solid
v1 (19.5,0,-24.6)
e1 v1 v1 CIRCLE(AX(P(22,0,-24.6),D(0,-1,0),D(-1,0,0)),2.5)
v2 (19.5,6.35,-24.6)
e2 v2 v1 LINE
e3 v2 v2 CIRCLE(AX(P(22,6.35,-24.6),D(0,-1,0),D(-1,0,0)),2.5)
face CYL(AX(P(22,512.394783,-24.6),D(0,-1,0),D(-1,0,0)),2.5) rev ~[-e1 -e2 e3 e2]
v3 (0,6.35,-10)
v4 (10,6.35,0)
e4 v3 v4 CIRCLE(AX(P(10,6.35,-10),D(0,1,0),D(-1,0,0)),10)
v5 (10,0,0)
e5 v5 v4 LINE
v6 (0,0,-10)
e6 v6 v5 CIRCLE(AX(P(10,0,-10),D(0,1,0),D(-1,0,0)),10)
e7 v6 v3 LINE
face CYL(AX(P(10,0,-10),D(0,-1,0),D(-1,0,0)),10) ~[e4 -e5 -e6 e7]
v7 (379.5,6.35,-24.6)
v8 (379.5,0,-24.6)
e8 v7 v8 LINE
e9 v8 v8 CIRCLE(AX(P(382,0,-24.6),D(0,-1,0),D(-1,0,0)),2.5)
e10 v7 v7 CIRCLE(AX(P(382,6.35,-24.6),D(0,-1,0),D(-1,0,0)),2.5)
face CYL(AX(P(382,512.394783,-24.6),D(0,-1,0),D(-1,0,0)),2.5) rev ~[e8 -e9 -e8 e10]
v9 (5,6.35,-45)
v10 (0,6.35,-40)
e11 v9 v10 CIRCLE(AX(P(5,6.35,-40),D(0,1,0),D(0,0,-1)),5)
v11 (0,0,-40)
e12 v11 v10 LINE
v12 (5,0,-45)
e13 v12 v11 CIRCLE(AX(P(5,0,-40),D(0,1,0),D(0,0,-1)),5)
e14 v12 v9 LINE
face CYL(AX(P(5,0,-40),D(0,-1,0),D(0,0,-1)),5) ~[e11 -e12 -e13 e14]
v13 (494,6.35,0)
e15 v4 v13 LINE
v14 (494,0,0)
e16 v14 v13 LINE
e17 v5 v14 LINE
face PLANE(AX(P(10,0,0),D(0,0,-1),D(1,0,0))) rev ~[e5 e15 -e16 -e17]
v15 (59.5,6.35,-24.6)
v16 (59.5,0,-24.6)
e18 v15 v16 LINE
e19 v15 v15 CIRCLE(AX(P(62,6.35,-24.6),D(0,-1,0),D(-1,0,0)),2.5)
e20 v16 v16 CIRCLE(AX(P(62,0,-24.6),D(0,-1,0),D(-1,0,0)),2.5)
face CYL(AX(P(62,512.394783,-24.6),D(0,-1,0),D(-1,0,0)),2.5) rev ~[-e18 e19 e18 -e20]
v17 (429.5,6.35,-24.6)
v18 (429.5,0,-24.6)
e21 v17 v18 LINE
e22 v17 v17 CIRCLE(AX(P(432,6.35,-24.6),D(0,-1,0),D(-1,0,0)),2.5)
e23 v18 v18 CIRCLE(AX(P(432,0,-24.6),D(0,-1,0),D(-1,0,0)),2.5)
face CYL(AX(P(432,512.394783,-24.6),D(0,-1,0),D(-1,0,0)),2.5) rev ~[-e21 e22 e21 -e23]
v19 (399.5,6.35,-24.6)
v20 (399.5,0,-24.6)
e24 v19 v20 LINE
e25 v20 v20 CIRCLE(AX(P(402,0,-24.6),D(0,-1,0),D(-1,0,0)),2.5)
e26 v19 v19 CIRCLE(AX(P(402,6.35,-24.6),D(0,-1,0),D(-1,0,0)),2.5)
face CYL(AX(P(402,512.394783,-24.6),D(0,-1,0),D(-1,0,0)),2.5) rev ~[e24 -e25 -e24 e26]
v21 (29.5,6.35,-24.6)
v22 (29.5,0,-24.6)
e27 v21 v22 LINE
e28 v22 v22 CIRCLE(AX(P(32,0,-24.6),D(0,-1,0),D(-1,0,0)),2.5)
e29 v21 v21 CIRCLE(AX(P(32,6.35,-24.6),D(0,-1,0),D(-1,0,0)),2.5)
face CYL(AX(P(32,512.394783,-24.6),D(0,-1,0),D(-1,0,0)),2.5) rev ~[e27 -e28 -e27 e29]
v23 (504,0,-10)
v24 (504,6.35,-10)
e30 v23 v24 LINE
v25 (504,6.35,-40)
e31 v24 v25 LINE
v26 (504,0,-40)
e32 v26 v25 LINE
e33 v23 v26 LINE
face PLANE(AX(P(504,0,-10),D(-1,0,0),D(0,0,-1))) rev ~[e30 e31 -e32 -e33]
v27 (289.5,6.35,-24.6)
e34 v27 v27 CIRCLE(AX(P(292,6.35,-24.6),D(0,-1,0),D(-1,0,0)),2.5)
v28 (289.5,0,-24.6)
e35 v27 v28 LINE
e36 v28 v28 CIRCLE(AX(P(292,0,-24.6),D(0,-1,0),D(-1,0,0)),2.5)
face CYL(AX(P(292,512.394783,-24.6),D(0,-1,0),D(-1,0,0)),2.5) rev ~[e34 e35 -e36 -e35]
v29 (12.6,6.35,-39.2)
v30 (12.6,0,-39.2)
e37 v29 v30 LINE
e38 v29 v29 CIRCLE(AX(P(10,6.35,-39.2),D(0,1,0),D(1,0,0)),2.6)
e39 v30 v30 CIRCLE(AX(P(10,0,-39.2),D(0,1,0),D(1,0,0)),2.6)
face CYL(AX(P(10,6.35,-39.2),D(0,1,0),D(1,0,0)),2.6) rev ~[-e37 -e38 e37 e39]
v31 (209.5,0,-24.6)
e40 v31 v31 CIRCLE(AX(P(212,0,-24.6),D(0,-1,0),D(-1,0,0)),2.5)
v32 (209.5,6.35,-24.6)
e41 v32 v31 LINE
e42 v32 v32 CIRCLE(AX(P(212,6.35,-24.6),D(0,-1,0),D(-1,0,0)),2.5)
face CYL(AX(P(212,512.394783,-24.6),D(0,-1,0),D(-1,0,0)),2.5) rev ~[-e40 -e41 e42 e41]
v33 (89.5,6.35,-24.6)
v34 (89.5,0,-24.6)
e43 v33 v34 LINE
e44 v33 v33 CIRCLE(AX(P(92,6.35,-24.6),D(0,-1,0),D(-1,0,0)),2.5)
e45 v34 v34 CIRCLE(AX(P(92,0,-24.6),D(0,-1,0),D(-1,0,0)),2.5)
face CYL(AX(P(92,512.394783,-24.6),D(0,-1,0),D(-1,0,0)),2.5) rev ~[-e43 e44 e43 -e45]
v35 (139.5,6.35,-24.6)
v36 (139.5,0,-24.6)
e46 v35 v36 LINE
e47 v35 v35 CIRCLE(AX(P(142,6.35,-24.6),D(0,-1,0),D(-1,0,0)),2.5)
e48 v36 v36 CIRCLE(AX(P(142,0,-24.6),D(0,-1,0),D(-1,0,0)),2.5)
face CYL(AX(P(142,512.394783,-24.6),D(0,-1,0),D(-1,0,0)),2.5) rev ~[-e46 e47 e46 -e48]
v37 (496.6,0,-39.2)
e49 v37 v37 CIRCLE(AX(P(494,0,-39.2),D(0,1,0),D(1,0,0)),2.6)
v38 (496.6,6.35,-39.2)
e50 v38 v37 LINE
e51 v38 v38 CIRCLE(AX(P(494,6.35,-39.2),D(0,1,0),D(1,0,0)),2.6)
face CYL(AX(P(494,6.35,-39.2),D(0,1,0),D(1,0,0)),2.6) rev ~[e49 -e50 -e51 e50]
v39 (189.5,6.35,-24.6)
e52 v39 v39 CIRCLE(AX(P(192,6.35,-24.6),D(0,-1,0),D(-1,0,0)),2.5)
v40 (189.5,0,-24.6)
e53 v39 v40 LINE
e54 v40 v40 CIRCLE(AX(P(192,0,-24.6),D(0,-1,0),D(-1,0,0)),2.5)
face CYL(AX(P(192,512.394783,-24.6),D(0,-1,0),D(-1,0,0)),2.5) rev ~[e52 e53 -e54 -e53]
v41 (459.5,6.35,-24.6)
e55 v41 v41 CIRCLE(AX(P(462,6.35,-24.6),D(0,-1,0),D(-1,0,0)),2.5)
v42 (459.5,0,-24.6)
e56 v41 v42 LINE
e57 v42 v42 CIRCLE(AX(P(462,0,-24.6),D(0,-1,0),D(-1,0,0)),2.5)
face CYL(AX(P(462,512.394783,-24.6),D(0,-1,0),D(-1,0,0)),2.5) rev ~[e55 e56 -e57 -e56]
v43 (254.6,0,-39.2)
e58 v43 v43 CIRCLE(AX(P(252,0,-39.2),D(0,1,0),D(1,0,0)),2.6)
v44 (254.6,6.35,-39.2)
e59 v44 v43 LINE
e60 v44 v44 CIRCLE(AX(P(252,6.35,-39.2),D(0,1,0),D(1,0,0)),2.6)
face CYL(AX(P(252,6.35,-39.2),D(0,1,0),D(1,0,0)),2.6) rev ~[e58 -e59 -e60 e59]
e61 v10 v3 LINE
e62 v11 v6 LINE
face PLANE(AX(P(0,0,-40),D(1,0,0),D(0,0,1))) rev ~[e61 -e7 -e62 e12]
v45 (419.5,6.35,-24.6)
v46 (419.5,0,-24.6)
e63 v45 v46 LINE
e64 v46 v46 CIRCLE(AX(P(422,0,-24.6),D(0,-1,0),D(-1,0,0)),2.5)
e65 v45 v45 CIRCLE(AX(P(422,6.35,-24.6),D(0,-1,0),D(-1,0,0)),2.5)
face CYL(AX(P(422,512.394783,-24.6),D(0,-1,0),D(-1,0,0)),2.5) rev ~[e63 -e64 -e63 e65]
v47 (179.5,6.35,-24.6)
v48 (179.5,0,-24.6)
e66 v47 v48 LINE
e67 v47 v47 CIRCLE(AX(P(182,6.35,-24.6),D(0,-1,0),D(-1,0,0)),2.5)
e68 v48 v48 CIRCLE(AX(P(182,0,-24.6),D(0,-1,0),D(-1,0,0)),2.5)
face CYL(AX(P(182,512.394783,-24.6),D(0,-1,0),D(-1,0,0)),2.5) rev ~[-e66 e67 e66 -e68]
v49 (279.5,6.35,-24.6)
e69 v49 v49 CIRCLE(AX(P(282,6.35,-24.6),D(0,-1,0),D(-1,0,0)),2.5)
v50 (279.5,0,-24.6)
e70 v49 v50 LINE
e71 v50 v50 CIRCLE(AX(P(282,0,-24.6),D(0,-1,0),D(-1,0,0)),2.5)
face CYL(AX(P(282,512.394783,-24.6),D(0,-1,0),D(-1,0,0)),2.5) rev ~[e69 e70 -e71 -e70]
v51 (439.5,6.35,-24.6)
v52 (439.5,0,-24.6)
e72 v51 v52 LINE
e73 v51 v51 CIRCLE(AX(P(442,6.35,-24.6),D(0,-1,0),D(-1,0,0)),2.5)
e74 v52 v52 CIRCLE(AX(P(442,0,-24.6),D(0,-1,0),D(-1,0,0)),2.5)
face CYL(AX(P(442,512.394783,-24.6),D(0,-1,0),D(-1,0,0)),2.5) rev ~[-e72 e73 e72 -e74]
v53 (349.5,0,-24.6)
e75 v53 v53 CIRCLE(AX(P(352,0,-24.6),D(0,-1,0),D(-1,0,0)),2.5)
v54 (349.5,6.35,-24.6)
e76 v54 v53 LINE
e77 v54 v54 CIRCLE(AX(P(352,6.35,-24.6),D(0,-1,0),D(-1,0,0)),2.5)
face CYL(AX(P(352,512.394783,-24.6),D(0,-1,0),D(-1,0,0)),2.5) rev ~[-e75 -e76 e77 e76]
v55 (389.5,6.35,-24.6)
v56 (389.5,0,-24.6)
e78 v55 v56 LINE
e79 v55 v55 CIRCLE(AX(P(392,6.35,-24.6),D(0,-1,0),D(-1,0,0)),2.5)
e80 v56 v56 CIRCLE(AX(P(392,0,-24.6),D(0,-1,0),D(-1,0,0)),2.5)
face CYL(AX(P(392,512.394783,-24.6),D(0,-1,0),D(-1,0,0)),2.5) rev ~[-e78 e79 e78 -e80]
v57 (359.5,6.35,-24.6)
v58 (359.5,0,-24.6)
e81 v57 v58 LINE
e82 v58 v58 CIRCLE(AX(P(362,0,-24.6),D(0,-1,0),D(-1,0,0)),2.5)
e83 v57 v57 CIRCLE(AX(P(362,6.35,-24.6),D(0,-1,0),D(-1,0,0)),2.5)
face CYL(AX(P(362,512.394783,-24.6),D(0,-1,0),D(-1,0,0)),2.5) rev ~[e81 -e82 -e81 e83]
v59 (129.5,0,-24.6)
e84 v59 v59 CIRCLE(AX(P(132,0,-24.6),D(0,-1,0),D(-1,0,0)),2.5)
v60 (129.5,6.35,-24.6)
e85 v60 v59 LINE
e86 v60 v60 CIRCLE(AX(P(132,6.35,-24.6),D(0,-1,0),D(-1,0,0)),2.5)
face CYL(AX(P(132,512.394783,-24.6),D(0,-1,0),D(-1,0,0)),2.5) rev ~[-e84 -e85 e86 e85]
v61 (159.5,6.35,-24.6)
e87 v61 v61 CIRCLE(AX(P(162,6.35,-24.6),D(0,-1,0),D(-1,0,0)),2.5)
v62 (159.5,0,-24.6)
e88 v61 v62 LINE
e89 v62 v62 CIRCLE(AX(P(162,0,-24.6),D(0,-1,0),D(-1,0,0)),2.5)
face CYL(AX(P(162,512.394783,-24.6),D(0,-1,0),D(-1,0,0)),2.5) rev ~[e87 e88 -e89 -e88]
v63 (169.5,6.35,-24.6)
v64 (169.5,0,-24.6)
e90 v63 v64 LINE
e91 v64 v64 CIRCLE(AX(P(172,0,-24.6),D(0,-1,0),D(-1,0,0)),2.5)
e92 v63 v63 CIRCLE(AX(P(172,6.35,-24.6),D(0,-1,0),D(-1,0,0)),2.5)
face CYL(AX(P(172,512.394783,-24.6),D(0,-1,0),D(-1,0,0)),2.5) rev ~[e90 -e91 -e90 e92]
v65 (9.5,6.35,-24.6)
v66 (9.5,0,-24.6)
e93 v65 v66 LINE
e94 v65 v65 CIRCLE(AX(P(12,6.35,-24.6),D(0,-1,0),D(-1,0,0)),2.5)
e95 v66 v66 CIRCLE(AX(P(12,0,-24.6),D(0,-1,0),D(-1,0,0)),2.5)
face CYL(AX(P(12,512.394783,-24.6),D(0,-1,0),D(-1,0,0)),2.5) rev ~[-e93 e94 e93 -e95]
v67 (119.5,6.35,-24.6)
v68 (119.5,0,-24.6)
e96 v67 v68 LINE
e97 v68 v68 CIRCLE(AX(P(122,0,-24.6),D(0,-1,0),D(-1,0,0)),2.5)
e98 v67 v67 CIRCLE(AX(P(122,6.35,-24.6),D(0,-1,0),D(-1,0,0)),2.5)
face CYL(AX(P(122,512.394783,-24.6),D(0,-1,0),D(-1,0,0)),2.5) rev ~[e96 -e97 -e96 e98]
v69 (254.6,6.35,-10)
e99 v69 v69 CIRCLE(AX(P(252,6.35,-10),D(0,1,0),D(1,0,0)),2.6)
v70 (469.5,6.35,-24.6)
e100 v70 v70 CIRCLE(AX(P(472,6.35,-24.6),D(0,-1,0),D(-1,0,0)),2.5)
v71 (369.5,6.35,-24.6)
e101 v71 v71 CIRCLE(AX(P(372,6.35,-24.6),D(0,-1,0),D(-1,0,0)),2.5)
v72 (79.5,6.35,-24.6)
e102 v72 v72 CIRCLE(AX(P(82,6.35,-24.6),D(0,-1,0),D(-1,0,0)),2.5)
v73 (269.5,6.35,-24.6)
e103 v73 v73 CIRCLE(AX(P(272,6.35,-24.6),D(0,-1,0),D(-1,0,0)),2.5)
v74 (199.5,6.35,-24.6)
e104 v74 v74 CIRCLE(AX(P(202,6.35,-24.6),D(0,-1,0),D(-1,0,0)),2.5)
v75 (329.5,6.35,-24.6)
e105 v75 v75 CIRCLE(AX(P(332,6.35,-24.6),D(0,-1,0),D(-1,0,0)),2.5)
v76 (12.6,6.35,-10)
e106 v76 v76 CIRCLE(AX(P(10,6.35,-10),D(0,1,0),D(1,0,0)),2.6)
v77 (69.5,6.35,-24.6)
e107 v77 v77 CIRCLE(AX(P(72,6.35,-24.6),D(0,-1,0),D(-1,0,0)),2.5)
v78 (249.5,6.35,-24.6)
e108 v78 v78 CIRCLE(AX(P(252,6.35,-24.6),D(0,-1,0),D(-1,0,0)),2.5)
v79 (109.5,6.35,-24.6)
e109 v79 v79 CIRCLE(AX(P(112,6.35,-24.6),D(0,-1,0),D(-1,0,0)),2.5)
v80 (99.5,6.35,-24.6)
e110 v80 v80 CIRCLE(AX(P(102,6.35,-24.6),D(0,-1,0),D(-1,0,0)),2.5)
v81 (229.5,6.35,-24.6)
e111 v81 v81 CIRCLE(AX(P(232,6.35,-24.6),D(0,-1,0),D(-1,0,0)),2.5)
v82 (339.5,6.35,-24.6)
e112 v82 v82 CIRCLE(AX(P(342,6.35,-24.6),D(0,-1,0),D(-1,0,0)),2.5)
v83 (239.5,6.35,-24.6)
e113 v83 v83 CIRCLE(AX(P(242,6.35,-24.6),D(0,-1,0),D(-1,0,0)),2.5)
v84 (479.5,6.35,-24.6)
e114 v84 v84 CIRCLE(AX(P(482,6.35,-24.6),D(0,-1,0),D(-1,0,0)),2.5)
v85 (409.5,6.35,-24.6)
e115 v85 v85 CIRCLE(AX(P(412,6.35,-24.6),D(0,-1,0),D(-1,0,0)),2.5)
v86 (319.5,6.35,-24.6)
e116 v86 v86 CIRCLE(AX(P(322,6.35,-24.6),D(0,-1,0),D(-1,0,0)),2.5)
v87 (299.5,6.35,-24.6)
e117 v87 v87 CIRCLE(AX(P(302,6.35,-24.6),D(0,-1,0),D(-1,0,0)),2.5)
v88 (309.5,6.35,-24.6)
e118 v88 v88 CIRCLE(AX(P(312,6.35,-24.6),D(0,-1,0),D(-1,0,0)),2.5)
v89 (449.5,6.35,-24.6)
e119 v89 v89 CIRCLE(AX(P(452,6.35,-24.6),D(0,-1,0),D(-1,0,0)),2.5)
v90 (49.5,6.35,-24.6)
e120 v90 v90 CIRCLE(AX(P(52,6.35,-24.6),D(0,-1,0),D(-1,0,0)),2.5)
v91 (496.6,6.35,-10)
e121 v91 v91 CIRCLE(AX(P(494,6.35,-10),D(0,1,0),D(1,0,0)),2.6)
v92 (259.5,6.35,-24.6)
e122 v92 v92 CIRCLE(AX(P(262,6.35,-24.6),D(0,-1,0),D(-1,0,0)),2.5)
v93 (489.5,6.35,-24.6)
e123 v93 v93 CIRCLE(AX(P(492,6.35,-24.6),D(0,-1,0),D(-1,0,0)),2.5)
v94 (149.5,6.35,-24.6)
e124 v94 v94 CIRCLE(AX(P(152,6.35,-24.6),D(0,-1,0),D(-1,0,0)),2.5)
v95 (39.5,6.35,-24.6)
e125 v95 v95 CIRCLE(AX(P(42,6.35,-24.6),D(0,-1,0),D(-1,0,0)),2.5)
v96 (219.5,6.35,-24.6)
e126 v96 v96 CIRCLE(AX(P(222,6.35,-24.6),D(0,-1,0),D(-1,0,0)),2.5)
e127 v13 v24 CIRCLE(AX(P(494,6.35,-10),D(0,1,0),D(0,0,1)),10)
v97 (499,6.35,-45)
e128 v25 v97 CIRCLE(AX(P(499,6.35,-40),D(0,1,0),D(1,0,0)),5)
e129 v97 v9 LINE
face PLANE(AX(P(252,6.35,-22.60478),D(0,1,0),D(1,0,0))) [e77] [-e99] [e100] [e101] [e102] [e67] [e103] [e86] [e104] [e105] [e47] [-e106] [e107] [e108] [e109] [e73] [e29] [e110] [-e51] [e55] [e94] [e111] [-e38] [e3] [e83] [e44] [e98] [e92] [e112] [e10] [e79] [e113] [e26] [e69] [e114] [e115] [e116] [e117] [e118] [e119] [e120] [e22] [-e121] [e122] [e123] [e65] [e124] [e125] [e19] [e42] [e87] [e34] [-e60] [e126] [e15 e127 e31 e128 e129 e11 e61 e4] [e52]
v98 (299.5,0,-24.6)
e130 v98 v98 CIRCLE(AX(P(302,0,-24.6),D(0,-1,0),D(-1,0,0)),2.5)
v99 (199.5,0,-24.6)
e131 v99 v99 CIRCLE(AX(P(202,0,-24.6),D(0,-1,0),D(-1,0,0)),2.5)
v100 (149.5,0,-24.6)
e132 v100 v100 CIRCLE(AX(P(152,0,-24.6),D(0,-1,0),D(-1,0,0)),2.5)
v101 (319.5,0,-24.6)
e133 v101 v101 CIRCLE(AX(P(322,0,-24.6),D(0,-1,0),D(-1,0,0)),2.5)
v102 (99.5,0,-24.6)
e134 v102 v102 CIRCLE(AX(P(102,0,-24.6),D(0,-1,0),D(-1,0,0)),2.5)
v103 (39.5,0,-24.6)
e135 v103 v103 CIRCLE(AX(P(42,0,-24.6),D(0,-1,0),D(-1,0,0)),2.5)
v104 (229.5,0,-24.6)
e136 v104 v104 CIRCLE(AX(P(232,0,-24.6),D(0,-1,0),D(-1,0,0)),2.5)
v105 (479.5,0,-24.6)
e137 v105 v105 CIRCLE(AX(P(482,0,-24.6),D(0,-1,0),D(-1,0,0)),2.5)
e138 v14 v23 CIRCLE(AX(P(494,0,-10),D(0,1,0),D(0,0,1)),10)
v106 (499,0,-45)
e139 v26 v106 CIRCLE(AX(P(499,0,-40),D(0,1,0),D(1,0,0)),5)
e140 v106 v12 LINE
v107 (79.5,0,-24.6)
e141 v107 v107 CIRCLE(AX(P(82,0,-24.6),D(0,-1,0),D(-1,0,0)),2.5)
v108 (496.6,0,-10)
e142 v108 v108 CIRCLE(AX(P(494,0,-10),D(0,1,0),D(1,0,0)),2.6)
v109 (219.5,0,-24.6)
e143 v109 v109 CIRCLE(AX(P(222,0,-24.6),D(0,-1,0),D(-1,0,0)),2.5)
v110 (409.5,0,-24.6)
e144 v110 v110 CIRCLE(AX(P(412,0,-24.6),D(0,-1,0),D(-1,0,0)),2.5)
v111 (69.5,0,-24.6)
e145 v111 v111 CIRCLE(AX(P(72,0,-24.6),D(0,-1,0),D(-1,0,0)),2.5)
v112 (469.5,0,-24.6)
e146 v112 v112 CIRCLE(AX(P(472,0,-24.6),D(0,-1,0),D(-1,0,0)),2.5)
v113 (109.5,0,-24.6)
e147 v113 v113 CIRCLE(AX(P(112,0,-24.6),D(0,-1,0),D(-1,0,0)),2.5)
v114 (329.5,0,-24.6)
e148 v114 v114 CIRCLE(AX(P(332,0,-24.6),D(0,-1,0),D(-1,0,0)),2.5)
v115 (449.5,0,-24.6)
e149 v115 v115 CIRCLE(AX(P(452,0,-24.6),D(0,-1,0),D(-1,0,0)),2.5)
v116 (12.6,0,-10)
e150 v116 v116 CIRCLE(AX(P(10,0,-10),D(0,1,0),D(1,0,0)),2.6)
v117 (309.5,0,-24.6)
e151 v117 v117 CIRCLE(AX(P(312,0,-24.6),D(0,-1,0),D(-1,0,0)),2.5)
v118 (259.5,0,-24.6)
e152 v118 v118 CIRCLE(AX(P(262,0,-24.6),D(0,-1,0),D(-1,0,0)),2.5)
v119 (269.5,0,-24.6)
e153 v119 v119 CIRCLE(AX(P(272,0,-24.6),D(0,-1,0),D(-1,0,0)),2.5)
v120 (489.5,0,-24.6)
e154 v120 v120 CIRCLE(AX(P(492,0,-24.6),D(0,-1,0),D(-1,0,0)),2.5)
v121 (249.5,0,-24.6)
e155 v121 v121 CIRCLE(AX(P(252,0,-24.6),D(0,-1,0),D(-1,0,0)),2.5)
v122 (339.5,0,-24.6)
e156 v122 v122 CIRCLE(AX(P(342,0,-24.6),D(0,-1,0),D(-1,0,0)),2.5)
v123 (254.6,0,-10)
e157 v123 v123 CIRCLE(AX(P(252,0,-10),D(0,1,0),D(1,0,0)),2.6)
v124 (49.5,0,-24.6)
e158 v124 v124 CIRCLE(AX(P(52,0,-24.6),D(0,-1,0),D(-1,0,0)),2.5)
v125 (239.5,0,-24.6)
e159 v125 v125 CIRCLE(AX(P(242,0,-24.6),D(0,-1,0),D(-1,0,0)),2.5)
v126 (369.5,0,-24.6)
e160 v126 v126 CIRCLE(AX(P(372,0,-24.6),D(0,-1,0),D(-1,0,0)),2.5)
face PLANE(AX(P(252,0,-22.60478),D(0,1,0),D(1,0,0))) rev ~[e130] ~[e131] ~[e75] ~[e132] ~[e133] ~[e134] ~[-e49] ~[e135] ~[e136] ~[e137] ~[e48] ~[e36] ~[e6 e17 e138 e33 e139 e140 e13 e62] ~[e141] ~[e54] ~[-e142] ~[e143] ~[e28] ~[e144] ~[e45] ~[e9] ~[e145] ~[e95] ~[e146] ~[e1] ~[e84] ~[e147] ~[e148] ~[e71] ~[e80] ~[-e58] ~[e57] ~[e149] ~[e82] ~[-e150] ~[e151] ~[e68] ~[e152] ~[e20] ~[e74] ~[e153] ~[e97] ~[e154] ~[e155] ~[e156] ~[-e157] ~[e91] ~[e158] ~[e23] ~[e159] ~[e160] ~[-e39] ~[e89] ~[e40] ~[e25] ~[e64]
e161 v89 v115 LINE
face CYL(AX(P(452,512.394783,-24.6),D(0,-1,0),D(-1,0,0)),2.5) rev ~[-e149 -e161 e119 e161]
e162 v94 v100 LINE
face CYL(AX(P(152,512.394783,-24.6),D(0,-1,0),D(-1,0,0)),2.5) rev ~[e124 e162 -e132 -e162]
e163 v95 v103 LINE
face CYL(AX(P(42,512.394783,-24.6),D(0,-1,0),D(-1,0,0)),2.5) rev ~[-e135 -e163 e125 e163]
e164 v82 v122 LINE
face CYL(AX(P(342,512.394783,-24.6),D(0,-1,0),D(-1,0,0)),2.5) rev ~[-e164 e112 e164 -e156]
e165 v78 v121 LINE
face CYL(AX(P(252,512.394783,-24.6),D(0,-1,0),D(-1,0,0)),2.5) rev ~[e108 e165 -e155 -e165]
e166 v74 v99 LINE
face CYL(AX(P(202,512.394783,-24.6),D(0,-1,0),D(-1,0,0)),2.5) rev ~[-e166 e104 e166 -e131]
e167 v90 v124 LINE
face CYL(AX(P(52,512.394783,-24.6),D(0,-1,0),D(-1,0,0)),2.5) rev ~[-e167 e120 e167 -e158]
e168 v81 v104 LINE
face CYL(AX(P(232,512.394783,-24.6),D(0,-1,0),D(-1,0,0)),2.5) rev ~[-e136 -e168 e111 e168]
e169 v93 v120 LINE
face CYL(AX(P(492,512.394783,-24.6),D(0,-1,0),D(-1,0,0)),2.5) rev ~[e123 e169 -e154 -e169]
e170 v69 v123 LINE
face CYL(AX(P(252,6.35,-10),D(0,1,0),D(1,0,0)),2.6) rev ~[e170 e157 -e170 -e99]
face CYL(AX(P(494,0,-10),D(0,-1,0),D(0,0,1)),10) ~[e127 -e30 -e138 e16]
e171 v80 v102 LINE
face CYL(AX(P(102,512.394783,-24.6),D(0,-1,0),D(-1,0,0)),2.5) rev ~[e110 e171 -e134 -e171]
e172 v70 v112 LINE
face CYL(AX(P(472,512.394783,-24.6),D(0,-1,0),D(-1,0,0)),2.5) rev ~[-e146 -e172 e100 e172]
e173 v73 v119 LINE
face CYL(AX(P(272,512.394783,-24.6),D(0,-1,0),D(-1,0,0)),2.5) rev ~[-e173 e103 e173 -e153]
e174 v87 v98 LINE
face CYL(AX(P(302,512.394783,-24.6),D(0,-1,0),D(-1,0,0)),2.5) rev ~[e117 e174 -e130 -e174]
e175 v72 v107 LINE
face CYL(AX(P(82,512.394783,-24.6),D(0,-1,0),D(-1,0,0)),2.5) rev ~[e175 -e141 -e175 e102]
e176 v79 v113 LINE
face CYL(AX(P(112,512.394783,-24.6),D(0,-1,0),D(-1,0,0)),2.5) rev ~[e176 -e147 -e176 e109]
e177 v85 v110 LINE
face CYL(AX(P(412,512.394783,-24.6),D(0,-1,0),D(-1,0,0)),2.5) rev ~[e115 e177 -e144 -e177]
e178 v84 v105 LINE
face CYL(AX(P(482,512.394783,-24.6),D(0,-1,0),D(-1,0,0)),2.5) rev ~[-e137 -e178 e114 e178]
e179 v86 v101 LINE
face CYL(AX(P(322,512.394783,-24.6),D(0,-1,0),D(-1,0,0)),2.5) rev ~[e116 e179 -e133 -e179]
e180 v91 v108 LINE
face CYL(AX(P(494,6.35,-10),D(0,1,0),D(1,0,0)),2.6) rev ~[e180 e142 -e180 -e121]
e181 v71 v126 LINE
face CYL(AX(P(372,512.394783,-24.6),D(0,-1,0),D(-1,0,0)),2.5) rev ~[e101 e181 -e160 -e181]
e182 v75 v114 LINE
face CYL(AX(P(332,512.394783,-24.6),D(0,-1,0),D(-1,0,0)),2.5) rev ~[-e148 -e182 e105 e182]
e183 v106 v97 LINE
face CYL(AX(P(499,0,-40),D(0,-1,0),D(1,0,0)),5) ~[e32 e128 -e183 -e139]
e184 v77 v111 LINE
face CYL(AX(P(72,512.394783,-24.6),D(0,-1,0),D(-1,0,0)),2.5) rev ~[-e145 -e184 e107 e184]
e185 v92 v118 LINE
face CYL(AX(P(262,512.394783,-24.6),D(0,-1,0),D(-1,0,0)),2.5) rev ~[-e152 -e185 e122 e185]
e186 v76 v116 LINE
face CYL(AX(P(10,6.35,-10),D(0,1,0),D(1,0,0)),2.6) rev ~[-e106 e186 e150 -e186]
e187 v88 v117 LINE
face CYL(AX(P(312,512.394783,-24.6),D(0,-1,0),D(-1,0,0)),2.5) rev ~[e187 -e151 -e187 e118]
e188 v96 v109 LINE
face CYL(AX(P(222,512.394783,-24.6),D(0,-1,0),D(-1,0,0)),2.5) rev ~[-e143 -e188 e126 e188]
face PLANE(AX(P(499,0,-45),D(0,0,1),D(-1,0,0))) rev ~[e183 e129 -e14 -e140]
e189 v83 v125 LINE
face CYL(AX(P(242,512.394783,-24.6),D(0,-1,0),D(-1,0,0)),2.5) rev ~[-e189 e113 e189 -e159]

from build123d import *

# Parameters (mm, degrees)
BOSS_EXTRUDE1_DEPTH   = 6.35
M6X1_0_TAPPED_HOLE1_D = 5
LPATTERN1_COUNT       = 49
LPATTERN1_PITCH       = 10
CUT_EXTRUDE1_REACH    = 8.35
SKETCH5_R             = 2.6


with BuildPart() as part:
    # Sketch1 → Boss-Extrude1 (new body)
    with BuildSketch(Plane(origin=(0, 0, 0), x_dir=(1, 0, 0), z_dir=(0, 1, 0))):
        with BuildLine():
            Line((10, 0), (494, 0))
            ThreePointArc((494, 0), (501.071067812, 2.928932188), (504, 10))
            Line((504, 10), (504, 40))
            ThreePointArc((504, 40), (502.535533906, 43.535533906), (499, 45))
            Line((499, 45), (5, 45))
            ThreePointArc((5, 45), (1.464466094, 43.535533906), (0, 40))
            Line((0, 40), (0, 10))
            ThreePointArc((0, 10), (2.928932188, 2.928932188), (10, 0))
        make_face()
    extrude(amount=BOSS_EXTRUDE1_DEPTH)

    # M6x1.0 Tapped Hole1 (through all)
    with Locations(Plane(origin=(0, 6.35, 0), x_dir=(1, 0, 0), z_dir=(0, 1, 0))):
        with Locations((492, 24.6)):
            m6x1_0_tapped_hole1 = Hole(M6X1_0_TAPPED_HOLE1_D / 2)

    # LPattern1: M6x1.0 Tapped Hole1 ×49
    with Locations(*[(-i * LPATTERN1_PITCH, 0, 0) for i in range(1, LPATTERN1_COUNT)]):
        add(m6x1_0_tapped_hole1, mode=Mode.SUBTRACT)

    # Sketch5 → Cut-Extrude1 (cut, up to next)
    with BuildSketch(Plane(origin=(0, 6.35, 0), x_dir=(1, 0, 0), z_dir=(0, 1, 0)), mode=Mode.PRIVATE) as cut_extrude1_sk1:
        with Locations((10, 10)):
            Circle(SKETCH5_R)
    cut_extrude1_tool1 = extrude(cut_extrude1_sk1.sketch, amount=-CUT_EXTRUDE1_REACH, mode=Mode.PRIVATE) & part.part
    add(cut_extrude1_tool1.solids().sort_by_distance((10, 6.35, -10))[0], mode=Mode.SUBTRACT)
    # Sketch5 → Cut-Extrude1 (cut, up to next)
    with BuildSketch(Plane(origin=(0, 6.35, 0), x_dir=(1, 0, 0), z_dir=(0, 1, 0)), mode=Mode.PRIVATE) as cut_extrude1_sk2:
        with Locations((10, 39.2)):
            Circle(SKETCH5_R)
    cut_extrude1_tool2 = extrude(cut_extrude1_sk2.sketch, amount=-CUT_EXTRUDE1_REACH, mode=Mode.PRIVATE) & part.part
    add(cut_extrude1_tool2.solids().sort_by_distance((10, 6.35, -39.2))[0], mode=Mode.SUBTRACT)
    # Sketch5 → Cut-Extrude1 (cut, up to next)
    with BuildSketch(Plane(origin=(0, 6.35, 0), x_dir=(1, 0, 0), z_dir=(0, 1, 0)), mode=Mode.PRIVATE) as cut_extrude1_sk3:
        with Locations((494, 10)):
            Circle(SKETCH5_R)
    cut_extrude1_tool3 = extrude(cut_extrude1_sk3.sketch, amount=-CUT_EXTRUDE1_REACH, mode=Mode.PRIVATE) & part.part
    add(cut_extrude1_tool3.solids().sort_by_distance((494, 6.35, -10))[0], mode=Mode.SUBTRACT)
    # Sketch5 → Cut-Extrude1 (cut, up to next)
    with BuildSketch(Plane(origin=(0, 6.35, 0), x_dir=(1, 0, 0), z_dir=(0, 1, 0)), mode=Mode.PRIVATE) as cut_extrude1_sk4:
        with Locations((494, 39.2)):
            Circle(SKETCH5_R)
    cut_extrude1_tool4 = extrude(cut_extrude1_sk4.sketch, amount=-CUT_EXTRUDE1_REACH, mode=Mode.PRIVATE) & part.part
    add(cut_extrude1_tool4.solids().sort_by_distance((494, 6.35, -39.2))[0], mode=Mode.SUBTRACT)
    # Sketch5 → Cut-Extrude1 (cut, up to next)
    with BuildSketch(Plane(origin=(0, 6.35, 0), x_dir=(1, 0, 0), z_dir=(0, 1, 0)), mode=Mode.PRIVATE) as cut_extrude1_sk5:
        with Locations((252, 10)):
            Circle(SKETCH5_R)
    cut_extrude1_tool5 = extrude(cut_extrude1_sk5.sketch, amount=-CUT_EXTRUDE1_REACH, mode=Mode.PRIVATE) & part.part
    add(cut_extrude1_tool5.solids().sort_by_distance((252, 6.35, -10))[0], mode=Mode.SUBTRACT)
    # Sketch5 → Cut-Extrude1 (cut, up to next)
    with BuildSketch(Plane(origin=(0, 6.35, 0), x_dir=(1, 0, 0), z_dir=(0, 1, 0)), mode=Mode.PRIVATE) as cut_extrude1_sk6:
        with Locations((252, 39.2)):
            Circle(SKETCH5_R)
    cut_extrude1_tool6 = extrude(cut_extrude1_sk6.sketch, amount=-CUT_EXTRUDE1_REACH, mode=Mode.PRIVATE) & part.part
    add(cut_extrude1_tool6.solids().sort_by_distance((252, 6.35, -39.2))[0], mode=Mode.SUBTRACT)


solid = part.part
